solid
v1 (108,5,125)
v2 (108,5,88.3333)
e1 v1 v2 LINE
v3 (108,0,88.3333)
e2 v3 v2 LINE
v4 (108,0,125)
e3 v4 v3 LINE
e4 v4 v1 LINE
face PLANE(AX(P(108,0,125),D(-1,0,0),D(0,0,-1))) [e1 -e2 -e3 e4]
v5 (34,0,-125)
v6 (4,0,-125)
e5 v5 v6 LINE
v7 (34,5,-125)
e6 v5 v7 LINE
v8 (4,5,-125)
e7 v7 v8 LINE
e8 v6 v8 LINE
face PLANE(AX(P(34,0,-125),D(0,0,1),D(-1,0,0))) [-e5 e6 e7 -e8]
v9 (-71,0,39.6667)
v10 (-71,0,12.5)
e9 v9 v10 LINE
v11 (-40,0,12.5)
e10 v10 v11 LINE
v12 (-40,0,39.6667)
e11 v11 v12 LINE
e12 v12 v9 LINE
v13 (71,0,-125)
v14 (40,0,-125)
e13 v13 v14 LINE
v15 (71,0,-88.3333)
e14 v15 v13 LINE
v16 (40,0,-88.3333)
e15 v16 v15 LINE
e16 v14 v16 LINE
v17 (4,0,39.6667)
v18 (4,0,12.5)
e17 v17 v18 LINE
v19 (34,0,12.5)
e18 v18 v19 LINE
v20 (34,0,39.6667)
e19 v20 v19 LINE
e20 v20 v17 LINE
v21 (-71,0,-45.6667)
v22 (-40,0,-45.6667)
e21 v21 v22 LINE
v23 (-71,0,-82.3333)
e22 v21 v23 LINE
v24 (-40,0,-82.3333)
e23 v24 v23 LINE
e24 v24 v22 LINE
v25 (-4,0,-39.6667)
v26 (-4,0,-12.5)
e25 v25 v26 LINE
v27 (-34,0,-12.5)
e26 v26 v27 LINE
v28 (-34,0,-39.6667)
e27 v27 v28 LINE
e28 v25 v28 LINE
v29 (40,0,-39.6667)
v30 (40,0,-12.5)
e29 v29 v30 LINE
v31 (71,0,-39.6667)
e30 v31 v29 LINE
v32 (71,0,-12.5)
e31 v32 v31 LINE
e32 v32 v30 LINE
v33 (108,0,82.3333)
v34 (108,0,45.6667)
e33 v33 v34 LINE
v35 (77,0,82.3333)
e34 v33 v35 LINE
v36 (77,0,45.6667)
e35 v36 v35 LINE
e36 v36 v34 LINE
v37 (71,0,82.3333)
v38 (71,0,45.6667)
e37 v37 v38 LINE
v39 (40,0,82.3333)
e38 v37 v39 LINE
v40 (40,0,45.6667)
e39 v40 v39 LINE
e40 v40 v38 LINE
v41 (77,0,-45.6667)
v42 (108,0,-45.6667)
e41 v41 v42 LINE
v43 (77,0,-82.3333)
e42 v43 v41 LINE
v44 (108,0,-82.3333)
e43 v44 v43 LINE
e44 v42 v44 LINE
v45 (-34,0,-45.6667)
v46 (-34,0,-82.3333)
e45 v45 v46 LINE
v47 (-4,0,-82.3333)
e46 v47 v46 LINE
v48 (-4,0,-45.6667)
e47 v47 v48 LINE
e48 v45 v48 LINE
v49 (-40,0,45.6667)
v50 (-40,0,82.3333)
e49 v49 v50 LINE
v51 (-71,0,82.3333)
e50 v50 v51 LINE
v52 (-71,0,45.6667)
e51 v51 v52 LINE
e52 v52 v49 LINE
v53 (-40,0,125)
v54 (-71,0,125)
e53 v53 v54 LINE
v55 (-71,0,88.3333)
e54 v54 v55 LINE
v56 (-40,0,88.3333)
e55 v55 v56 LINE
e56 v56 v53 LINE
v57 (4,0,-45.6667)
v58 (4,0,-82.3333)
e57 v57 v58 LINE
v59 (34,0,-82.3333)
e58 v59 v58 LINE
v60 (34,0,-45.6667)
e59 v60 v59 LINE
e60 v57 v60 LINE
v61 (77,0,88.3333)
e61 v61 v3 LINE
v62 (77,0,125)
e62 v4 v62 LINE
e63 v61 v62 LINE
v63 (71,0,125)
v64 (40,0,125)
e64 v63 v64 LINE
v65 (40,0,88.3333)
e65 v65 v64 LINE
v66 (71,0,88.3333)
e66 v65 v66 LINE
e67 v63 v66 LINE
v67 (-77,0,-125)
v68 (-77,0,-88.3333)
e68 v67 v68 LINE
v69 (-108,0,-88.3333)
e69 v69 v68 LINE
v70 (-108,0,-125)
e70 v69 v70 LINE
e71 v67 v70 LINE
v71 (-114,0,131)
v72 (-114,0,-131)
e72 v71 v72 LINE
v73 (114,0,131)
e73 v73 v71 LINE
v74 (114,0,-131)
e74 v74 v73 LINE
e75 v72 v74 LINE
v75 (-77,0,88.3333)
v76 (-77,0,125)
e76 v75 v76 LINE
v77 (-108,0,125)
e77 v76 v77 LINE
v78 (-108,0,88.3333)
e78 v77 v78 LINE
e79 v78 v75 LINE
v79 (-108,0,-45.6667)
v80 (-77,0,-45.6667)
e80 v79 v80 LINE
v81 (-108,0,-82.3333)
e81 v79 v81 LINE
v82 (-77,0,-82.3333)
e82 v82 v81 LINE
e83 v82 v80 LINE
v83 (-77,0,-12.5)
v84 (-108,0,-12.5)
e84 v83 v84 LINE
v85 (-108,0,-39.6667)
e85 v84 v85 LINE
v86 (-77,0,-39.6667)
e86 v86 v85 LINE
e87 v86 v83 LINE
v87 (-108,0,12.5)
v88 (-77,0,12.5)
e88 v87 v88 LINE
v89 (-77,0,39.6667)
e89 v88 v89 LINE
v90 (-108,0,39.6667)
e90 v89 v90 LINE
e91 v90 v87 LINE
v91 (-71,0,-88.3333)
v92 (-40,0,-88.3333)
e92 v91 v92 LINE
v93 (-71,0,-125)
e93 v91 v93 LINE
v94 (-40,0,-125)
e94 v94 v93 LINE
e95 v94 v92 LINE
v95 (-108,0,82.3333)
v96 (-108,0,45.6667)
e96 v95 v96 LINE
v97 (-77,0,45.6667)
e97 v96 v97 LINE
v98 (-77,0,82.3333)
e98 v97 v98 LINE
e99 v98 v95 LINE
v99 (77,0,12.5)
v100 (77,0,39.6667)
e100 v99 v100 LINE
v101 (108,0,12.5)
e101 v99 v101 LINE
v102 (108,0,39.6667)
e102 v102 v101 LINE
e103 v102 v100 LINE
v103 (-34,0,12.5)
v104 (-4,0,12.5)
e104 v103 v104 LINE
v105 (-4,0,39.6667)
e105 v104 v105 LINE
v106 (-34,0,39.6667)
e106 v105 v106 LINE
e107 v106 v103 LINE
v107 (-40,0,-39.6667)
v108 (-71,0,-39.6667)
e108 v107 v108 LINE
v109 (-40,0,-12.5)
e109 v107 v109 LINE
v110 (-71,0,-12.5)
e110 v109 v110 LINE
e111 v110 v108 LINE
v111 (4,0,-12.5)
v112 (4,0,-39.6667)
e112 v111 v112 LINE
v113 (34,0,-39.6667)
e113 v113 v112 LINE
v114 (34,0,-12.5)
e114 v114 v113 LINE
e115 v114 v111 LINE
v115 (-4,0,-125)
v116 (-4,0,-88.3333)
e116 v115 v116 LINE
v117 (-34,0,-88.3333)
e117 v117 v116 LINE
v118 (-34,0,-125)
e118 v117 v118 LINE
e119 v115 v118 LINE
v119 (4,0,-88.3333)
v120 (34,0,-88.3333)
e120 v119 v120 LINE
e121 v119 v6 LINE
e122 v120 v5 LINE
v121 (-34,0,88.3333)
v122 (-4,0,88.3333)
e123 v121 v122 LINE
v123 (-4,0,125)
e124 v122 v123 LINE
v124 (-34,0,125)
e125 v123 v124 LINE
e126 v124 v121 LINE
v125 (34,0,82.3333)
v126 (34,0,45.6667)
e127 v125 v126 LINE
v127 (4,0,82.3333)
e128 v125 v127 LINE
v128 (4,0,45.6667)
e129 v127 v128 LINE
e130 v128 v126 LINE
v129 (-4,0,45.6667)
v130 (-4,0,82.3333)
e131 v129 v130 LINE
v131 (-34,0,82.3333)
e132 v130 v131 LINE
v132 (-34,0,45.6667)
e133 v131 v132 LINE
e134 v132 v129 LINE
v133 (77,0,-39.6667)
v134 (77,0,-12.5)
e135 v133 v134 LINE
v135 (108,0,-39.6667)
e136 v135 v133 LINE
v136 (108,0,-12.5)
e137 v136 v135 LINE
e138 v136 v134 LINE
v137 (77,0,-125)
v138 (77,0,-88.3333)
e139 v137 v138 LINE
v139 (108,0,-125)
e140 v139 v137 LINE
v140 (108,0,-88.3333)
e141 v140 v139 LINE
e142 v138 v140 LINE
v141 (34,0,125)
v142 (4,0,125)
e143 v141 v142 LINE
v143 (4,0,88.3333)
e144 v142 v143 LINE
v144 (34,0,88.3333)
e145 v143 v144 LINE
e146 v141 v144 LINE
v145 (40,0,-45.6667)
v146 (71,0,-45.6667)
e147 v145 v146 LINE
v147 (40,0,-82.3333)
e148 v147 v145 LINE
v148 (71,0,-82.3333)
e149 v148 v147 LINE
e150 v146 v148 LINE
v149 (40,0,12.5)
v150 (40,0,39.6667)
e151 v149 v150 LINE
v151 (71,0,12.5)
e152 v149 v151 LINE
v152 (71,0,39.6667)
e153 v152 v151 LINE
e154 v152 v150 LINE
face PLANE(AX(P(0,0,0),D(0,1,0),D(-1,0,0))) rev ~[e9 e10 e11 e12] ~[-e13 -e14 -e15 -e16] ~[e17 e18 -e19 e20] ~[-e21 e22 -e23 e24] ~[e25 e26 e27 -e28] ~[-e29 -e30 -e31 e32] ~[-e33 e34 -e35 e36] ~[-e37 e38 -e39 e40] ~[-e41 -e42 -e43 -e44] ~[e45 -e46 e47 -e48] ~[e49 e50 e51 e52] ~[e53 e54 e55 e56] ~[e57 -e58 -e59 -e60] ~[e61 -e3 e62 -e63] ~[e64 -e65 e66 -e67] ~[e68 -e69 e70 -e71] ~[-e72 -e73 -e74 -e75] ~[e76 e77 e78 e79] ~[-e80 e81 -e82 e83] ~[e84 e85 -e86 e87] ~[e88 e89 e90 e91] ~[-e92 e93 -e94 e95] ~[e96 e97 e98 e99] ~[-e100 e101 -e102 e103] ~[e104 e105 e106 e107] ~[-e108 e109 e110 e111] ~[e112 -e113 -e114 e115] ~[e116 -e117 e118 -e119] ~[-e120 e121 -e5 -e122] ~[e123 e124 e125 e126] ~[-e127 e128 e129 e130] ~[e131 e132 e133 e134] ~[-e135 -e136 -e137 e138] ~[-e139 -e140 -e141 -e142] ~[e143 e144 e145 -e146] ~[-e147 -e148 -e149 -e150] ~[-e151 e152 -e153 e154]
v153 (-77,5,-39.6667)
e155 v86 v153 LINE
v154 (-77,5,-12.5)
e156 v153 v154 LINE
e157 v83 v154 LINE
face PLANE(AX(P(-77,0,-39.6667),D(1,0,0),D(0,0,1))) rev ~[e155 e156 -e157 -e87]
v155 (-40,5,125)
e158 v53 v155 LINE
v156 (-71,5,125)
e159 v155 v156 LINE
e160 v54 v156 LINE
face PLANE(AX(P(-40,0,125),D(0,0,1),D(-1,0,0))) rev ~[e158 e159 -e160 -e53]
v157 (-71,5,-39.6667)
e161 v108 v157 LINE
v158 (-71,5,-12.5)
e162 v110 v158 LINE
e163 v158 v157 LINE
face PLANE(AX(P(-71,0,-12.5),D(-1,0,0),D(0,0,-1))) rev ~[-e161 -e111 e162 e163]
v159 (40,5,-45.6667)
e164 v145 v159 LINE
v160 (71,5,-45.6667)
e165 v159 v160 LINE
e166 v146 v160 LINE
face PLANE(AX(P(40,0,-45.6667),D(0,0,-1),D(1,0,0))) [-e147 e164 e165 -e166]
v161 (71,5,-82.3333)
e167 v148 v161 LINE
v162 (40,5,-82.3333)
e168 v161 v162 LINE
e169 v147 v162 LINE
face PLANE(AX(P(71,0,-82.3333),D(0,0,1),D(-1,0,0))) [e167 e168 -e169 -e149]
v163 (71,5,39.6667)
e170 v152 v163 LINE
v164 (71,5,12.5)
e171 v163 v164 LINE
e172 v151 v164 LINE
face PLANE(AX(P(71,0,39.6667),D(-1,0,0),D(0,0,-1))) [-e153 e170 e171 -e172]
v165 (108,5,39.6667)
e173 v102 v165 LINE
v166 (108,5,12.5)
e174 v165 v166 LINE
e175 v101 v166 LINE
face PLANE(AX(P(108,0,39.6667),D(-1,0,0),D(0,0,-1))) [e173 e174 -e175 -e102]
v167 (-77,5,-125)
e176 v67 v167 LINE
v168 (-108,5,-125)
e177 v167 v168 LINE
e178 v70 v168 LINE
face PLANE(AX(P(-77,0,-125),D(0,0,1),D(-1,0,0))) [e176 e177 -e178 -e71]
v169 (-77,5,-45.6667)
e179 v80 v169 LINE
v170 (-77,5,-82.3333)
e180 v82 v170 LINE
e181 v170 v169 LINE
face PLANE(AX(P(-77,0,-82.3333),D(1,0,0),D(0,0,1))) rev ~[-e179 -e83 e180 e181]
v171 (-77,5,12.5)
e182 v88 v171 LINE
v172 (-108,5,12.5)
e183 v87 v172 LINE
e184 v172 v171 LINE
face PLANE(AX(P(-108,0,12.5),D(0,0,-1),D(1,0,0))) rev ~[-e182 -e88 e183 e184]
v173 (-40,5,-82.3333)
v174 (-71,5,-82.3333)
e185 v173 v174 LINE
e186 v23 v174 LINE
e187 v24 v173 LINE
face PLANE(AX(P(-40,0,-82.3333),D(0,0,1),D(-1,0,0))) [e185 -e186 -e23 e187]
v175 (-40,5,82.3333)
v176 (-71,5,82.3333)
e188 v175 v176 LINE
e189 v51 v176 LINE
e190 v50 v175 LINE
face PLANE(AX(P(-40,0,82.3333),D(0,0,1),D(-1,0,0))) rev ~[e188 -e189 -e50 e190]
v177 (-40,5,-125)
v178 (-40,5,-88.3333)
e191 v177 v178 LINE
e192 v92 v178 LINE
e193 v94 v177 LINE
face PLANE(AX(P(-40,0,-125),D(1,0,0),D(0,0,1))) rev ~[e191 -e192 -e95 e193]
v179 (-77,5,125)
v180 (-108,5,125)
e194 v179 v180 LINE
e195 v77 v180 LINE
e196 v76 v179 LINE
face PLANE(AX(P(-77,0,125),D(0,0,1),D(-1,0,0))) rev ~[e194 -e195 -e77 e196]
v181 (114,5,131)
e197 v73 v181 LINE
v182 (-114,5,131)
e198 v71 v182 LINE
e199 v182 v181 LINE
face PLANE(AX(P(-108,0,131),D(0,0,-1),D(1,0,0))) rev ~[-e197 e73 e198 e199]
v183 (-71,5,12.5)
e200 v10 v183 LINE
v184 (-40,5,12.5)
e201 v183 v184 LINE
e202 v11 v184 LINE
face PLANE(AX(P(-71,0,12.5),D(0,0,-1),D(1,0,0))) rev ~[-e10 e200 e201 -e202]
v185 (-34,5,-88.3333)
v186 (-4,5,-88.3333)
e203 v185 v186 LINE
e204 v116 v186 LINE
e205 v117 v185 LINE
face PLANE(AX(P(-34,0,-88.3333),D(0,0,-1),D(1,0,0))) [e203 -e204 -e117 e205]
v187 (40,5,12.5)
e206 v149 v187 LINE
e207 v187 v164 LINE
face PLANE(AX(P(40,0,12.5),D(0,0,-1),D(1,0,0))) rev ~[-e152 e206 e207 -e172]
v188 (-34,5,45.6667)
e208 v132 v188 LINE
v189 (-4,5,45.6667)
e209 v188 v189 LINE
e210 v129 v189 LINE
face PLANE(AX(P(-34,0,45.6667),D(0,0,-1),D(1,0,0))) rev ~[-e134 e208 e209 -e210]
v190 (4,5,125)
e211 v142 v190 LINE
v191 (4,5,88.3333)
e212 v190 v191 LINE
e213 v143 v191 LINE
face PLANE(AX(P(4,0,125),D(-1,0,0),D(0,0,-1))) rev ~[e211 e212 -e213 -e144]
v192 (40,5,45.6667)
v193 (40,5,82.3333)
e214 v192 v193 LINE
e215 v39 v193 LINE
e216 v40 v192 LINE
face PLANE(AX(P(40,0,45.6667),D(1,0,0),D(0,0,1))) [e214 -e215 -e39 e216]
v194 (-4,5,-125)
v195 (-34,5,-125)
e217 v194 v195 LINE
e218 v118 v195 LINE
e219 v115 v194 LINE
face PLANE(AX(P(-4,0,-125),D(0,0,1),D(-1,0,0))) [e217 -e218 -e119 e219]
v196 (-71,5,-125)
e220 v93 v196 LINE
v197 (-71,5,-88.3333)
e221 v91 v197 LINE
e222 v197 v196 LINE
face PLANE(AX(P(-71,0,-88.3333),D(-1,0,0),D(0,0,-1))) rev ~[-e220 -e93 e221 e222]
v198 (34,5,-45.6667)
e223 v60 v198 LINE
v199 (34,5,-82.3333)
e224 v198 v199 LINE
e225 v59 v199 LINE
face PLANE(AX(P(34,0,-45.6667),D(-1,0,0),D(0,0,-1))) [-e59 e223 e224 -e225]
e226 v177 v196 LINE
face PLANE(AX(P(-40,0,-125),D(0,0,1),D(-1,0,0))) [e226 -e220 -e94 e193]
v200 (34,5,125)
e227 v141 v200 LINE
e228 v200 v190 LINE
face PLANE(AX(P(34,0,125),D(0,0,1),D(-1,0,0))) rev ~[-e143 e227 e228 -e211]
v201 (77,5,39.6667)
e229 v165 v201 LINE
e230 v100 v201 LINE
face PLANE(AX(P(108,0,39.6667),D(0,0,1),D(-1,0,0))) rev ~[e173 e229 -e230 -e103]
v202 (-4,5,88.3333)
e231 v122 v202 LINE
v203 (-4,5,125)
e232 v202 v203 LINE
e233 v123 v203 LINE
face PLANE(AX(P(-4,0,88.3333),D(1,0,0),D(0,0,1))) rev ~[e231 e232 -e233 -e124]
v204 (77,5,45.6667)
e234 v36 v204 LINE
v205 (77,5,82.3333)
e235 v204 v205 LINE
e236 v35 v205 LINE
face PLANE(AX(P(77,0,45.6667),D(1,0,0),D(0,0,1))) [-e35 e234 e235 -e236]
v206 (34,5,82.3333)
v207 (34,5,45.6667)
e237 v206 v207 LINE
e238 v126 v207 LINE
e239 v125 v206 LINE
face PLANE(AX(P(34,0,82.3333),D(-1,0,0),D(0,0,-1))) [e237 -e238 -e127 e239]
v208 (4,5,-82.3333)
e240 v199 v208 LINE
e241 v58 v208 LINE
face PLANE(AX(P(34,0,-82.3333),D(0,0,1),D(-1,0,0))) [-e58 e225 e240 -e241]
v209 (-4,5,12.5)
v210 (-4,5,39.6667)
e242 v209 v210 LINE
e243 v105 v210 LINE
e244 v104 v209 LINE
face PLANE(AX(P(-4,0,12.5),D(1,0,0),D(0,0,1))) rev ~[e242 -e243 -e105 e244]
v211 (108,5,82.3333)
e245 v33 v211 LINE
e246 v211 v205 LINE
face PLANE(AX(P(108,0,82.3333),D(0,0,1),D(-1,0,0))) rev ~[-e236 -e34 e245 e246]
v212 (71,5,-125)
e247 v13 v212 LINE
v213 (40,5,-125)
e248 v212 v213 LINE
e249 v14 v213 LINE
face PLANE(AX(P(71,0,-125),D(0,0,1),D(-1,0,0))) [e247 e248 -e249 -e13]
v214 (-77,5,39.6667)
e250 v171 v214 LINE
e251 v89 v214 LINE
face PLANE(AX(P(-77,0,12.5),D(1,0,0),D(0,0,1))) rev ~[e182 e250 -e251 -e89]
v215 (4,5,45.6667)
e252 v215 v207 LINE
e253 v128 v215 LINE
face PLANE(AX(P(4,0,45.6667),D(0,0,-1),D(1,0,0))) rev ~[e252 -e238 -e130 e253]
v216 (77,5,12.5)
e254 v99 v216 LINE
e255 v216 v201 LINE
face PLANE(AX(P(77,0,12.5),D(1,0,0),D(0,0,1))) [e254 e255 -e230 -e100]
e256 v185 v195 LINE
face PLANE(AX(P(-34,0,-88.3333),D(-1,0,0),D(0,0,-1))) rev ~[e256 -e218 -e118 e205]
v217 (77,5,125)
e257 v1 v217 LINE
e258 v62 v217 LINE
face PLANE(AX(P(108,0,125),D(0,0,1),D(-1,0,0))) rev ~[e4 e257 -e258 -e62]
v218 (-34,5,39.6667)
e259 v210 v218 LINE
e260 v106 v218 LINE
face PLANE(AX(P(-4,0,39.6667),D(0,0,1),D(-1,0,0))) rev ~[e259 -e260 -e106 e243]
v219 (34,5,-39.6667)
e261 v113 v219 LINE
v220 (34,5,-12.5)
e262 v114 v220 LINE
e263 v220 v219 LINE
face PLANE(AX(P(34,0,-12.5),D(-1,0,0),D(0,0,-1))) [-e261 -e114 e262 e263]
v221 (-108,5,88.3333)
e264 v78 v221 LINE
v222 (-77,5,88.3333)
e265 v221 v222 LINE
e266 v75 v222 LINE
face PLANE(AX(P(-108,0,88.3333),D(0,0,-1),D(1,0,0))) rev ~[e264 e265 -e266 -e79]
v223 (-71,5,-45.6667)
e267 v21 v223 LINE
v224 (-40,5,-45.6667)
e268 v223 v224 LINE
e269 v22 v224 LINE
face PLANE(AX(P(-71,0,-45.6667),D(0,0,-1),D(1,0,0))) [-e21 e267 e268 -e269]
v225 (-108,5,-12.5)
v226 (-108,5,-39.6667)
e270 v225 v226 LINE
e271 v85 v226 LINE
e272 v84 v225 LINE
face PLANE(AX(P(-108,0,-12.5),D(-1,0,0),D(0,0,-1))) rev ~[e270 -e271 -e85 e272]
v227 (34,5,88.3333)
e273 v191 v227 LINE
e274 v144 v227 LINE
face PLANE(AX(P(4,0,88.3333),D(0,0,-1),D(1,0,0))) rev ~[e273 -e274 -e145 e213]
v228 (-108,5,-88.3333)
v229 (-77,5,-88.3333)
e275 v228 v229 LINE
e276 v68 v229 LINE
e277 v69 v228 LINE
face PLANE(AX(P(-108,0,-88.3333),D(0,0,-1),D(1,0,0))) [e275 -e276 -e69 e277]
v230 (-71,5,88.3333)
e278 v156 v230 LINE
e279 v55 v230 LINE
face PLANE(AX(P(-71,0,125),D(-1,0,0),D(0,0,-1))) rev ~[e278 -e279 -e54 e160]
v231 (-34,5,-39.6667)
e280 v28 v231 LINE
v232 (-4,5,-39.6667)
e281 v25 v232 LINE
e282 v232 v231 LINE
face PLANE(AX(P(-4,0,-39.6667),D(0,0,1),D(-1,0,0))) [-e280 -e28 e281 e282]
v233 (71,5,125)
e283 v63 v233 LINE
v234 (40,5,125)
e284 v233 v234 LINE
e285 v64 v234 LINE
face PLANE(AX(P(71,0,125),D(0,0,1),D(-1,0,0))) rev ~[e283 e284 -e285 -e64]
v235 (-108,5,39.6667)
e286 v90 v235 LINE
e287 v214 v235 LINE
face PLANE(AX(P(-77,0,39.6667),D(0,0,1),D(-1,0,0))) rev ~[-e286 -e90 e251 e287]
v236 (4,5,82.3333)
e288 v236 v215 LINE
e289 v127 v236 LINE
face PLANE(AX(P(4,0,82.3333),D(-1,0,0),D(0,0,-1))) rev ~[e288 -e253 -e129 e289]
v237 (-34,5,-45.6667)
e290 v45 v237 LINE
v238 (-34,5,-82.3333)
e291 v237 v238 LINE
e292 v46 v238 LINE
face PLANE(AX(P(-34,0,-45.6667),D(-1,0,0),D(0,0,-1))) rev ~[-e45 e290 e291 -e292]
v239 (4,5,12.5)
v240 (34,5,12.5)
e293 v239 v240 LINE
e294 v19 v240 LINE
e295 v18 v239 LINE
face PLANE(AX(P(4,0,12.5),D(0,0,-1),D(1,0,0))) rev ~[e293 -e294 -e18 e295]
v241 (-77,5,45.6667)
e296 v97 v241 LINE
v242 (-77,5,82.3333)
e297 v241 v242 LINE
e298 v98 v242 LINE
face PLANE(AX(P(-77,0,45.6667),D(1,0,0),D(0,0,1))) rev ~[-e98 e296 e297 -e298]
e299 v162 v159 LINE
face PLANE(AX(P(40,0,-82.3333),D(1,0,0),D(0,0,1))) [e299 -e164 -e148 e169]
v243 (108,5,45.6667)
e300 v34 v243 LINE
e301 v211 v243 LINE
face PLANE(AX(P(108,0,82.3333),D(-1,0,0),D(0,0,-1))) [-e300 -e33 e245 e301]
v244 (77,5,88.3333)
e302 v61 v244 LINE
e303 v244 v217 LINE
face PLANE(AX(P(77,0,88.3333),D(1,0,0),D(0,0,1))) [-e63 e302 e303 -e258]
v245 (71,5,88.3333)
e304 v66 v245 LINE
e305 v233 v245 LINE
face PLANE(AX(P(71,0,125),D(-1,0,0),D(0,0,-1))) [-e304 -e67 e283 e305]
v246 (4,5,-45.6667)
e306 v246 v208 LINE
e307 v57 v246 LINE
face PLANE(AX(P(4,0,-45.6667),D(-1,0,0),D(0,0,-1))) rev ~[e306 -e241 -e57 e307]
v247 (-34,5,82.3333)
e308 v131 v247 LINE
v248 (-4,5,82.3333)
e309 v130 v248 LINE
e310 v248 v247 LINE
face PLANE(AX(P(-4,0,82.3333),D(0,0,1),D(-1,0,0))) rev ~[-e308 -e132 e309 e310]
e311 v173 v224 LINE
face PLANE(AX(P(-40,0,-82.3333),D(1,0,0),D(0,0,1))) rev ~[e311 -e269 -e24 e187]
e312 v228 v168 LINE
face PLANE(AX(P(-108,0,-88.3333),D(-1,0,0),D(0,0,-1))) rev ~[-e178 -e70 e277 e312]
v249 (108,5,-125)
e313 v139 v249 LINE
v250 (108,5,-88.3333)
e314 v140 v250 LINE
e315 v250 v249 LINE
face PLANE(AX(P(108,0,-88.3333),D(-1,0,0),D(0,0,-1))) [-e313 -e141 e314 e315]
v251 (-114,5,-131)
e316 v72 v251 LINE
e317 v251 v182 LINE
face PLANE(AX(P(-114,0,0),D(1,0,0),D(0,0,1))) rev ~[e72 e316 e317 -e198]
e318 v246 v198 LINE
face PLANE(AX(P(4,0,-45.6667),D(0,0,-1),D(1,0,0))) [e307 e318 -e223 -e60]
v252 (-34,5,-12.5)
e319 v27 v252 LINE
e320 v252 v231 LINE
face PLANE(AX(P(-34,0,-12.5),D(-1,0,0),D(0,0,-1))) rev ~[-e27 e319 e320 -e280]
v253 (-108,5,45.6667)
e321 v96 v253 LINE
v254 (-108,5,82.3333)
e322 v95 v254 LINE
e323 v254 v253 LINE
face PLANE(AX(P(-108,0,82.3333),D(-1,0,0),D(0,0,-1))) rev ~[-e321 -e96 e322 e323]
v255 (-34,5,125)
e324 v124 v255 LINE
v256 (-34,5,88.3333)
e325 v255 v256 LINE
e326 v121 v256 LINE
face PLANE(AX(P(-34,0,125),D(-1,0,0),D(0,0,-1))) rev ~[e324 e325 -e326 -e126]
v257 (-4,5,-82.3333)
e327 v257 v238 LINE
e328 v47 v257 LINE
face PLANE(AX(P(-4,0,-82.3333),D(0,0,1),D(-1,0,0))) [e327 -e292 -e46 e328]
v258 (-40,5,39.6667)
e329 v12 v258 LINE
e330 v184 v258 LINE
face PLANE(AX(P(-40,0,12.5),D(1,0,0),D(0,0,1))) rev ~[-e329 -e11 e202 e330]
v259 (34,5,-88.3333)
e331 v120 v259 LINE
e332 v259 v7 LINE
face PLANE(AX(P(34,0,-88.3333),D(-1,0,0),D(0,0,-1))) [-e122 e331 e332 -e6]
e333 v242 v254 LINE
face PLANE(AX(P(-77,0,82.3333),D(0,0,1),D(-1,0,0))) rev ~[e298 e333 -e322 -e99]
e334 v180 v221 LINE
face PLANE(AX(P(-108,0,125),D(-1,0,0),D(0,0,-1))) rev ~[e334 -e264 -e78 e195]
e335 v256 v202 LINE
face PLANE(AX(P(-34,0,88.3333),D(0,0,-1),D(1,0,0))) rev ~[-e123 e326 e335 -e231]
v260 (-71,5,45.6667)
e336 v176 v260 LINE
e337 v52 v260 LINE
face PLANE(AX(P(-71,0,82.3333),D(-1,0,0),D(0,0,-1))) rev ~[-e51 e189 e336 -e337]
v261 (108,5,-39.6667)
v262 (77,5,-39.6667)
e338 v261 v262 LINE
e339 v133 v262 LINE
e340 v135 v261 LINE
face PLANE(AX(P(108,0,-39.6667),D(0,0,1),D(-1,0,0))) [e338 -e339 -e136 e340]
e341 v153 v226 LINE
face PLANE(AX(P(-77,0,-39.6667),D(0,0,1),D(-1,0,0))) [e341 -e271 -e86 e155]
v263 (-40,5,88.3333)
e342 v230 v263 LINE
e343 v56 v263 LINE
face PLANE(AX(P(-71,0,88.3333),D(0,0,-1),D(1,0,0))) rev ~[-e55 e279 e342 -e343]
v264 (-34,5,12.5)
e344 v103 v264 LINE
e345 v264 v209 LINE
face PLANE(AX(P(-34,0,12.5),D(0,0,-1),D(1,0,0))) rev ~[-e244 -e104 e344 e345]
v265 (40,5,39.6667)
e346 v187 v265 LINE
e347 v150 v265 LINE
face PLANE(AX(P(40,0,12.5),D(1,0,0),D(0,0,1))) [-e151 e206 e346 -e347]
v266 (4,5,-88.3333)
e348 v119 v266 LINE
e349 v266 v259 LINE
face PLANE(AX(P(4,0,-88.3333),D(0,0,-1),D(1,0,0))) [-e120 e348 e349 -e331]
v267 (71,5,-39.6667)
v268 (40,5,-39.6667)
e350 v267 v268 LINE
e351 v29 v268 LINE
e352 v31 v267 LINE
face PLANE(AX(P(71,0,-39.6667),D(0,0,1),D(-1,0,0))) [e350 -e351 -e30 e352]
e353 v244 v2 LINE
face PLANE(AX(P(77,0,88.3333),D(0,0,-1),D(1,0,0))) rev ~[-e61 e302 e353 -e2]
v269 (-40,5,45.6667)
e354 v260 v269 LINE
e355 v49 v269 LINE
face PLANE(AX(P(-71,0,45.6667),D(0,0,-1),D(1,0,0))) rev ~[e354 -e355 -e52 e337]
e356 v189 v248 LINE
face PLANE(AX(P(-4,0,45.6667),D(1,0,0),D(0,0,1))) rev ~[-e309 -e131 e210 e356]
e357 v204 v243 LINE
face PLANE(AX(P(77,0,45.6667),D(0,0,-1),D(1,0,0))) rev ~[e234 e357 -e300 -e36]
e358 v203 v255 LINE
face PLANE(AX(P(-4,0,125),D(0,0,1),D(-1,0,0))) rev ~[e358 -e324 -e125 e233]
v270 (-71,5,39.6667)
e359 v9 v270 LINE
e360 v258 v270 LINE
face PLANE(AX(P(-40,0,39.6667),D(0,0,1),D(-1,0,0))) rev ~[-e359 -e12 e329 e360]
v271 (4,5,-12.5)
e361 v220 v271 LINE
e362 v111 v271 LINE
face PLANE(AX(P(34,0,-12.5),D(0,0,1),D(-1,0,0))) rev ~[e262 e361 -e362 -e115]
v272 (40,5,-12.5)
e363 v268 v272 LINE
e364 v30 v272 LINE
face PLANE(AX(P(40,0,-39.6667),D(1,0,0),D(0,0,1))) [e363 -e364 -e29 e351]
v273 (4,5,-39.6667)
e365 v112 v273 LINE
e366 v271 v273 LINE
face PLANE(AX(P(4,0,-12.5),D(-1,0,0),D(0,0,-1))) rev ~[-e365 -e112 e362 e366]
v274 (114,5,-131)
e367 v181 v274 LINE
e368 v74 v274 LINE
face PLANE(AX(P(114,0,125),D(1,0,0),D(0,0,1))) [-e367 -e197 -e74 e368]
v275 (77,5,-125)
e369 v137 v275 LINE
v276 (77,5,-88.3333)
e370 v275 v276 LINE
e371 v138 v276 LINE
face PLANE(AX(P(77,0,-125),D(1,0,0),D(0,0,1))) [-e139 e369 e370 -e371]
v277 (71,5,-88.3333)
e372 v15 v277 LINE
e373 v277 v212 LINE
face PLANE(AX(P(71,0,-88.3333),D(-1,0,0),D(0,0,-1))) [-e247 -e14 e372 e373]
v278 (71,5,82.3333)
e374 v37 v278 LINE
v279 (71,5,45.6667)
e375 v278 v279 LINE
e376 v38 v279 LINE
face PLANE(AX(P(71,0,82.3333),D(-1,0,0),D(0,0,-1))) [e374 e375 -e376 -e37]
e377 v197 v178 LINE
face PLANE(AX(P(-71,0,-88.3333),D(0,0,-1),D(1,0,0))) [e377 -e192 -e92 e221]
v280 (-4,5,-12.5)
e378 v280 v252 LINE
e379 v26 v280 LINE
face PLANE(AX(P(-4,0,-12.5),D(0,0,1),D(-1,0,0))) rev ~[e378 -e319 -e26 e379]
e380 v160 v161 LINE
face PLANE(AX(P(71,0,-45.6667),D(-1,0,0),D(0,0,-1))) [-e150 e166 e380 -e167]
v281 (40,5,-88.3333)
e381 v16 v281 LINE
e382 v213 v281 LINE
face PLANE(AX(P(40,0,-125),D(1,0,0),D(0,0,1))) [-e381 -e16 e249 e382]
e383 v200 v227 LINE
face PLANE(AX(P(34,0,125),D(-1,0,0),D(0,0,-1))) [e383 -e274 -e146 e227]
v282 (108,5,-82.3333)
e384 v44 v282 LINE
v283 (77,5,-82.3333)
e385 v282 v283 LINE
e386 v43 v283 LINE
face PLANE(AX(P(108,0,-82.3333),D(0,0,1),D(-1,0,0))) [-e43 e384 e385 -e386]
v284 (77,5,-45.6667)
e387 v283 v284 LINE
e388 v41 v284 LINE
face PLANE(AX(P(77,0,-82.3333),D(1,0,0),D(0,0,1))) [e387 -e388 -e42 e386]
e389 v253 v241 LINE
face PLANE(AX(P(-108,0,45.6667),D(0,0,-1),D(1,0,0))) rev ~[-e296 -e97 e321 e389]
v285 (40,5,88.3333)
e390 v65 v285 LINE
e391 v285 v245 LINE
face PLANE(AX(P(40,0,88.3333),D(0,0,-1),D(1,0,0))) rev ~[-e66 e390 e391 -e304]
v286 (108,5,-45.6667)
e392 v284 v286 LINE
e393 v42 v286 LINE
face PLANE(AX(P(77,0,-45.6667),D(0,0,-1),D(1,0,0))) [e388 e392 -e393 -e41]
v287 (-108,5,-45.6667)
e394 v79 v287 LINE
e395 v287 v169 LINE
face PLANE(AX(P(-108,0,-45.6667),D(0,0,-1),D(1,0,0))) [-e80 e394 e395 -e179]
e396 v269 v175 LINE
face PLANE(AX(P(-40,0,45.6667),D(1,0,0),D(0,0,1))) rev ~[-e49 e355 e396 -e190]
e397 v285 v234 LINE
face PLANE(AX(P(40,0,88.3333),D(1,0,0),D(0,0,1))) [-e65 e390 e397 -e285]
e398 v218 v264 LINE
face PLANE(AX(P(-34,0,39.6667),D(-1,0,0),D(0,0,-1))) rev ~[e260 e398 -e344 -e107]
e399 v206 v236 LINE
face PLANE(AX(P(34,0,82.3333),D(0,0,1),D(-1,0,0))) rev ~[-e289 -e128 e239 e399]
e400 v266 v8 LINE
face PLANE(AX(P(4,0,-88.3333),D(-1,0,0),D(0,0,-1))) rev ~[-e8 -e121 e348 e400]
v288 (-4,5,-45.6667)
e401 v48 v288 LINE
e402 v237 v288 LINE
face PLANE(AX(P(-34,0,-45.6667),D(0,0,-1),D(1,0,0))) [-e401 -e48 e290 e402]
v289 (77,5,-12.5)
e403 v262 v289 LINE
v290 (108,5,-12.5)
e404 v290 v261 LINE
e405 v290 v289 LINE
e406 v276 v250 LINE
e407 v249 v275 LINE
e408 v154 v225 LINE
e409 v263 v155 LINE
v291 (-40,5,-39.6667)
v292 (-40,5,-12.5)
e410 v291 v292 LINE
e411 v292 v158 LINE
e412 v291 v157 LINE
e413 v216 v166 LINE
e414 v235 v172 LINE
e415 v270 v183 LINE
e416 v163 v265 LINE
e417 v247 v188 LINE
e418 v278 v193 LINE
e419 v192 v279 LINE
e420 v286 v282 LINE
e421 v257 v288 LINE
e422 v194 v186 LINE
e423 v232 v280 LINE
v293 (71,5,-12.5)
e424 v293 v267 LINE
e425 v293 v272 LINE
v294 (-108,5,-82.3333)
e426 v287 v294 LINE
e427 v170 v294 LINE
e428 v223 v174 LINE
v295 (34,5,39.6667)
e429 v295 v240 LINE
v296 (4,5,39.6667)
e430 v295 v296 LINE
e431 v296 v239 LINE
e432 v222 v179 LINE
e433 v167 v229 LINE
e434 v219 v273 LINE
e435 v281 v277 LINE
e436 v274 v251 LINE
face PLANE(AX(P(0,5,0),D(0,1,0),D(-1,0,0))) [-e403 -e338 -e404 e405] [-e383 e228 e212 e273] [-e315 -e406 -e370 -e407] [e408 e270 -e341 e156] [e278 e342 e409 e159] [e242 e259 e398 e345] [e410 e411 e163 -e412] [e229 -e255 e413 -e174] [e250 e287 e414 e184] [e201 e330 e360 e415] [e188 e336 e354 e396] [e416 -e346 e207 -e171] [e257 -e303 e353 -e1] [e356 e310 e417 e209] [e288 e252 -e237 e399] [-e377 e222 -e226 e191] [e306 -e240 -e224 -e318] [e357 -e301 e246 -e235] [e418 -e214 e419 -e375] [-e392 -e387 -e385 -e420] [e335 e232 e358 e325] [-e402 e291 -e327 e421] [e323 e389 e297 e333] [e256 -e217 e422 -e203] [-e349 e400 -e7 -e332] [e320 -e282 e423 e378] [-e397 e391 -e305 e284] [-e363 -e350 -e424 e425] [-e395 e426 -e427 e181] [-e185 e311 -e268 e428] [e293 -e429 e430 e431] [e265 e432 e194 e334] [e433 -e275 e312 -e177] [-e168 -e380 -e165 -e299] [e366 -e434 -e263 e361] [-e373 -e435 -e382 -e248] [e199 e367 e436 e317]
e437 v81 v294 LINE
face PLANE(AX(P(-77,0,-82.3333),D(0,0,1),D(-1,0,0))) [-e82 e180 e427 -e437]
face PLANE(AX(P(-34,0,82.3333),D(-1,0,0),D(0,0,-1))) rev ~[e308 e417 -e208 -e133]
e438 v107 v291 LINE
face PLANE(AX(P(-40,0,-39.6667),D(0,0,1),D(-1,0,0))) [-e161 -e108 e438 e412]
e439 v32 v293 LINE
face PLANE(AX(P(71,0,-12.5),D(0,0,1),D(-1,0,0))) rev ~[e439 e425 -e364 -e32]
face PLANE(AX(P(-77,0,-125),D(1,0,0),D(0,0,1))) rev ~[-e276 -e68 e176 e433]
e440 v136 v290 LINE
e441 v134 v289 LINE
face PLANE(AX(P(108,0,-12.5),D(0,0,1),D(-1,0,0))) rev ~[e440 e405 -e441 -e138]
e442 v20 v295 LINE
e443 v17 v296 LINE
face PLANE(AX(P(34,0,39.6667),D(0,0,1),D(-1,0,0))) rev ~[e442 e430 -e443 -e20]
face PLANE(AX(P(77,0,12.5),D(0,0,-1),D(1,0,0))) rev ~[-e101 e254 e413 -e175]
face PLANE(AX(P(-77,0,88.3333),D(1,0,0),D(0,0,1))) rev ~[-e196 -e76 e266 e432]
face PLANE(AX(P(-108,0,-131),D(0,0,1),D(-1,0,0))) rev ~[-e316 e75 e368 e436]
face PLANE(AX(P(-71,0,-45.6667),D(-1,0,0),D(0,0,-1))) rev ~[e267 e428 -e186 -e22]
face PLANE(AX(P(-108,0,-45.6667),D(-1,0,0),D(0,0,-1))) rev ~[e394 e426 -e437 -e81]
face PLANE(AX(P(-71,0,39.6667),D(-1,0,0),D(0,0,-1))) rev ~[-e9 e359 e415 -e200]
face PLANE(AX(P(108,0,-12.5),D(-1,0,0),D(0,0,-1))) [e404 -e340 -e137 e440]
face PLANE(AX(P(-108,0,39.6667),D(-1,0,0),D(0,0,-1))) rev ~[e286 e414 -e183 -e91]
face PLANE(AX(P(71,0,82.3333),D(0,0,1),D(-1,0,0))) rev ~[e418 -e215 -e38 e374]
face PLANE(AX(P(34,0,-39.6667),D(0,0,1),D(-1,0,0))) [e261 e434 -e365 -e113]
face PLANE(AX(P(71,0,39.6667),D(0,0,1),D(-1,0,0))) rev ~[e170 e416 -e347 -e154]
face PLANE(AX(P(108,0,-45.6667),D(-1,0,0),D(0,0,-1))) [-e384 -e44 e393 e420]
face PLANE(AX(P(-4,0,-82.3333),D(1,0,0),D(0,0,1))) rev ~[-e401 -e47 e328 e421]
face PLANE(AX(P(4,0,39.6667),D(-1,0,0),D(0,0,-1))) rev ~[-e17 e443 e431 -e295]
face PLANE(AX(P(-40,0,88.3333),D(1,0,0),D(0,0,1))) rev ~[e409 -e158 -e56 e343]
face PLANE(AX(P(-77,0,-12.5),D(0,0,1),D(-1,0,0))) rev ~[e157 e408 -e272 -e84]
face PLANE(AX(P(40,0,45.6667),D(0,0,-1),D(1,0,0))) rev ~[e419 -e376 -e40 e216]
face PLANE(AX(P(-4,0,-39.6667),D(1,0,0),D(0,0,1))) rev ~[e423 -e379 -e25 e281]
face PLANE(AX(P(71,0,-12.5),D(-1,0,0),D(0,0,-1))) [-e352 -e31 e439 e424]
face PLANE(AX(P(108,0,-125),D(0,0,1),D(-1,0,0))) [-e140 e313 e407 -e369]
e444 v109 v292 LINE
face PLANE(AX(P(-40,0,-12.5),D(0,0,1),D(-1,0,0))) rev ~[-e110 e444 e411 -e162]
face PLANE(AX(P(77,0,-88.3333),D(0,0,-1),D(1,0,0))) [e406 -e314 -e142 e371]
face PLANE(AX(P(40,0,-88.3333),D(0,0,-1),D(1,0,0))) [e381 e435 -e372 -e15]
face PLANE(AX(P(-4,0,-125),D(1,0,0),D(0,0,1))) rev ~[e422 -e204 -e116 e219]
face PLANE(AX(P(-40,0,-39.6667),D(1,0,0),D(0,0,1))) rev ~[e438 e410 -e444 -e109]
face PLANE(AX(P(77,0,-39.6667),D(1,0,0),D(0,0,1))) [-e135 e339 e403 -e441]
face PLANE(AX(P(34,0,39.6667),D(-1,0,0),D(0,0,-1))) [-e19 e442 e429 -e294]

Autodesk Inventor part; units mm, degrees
ref_plane "YZ Plane" through (0, 0, 0) normal (1, 0, 0) x (0, 1, 0)
ref_plane "XZ Plane" through (0, 0, 0) normal (0, 1, 0) x (-1, 0, 0)
ref_plane "XY Plane" through (0, 0, 0) normal (0, 0, 1) x (1, 0, 0)
sketch "Sketch1" plane through (0, 0, 0) normal (0, 1, 0) x (-1, 0, 0)
  line L0 (108, 131) -> (-108, 131)
  line L1 (-108, 131) -> (-108, 125)
  line L2 (-108, 125) -> (108, 125)
  line L3 (108, 125) -> (108, 131)
  line L4 (0, 5131.2687) -> (0, -192.5797)
  line L5 (108, 4620.3571) -> (108, -4424.6448)
  line L6 (-108, 163.2413) -> (-108, -192.5797)
  line L7 (-159.6212, -125) -> (141.3387, -125)
  line L8 (141.3387, 125) -> (-159.6212, 125)
  line L9 (-108, 88.3333) -> (-108, 82.3333)
  line L10 (108, 88.3333) -> (-108, 88.3333)
  line L11 (-108, 82.3333) -> (108, 82.3333)
  line L12 (108, 82.3333) -> (108, 88.3333)
  line L13 (-108, 45.6667) -> (-108, 39.6667)
  line L14 (108, 45.6667) -> (-108, 45.6667)
  line L15 (-108, 39.6667) -> (108, 39.6667)
  line L16 (108, 39.6667) -> (108, 45.6667)
  line L17 (-108, -12.5) -> (108, -12.5)
  line L18 (108, -12.5) -> (108, 12.5)
  line L19 (108, 12.5) -> (-108, 12.5)
  line L20 (-108, 12.5) -> (-108, -12.5)
  line L21 (-108, -12.5) -> (108, 12.5) construction
  line L22 (108, -12.5) -> (-108, 12.5) construction
  line L23 (-4, -131) -> (4, -131)
  line L24 (4, -131) -> (4, 131)
  line L25 (4, 131) -> (-4, 131)
  line L26 (-4, 131) -> (-4, -131)
  line L27 (-4, -131) -> (4, 131) construction
  line L28 (4, -131) -> (-4, 131) construction
  line L29 (3750.9383, 0) -> (-5642.9813, 0)
  line L30 (108, -131) -> (-108, -131)
  line L31 (-108, -131) -> (-108, -125)
  line L32 (-108, -125) -> (108, -125)
  line L33 (108, -125) -> (108, -131)
  line L34 (-108, -88.3333) -> (-108, -82.3333)
  line L35 (108, -88.3333) -> (-108, -88.3333)
  line L36 (-108, -82.3333) -> (108, -82.3333)
  line L37 (108, -82.3333) -> (108, -88.3333)
  line L38 (-108, -45.6667) -> (-108, -39.6667)
  line L39 (108, -45.6667) -> (-108, -45.6667)
  line L40 (-108, -39.6667) -> (108, -39.6667)
  line L41 (108, -39.6667) -> (108, -45.6667)
  line L42 (114, 131) -> (108, 131)
  line L43 (108, 131) -> (108, -131)
  line L44 (108, -131) -> (114, -131)
  line L45 (114, -131) -> (114, 131)
  line L46 (71, 131) -> (71, -131)
  line L47 (77, -131) -> (77, 131)
  line L48 (77, 131) -> (71, 131)
  line L49 (71, -131) -> (77, -131)
  line L50 (34, 131) -> (34, -131)
  line L51 (40, -131) -> (40, 131)
  line L52 (40, 131) -> (34, 131)
  line L53 (34, -131) -> (40, -131)
  line L54 (-114, 131) -> (-108, 131)
  line L55 (-108, 131) -> (-108, -131)
  line L56 (-108, -131) -> (-114, -131)
  line L57 (-114, -131) -> (-114, 131)
  line L58 (-71, 131) -> (-71, -131)
  line L59 (-77, -131) -> (-77, 131)
  line L60 (-77, 131) -> (-71, 131)
  line L61 (-71, -131) -> (-77, -131)
  line L62 (-34, 131) -> (-34, -131)
  line L63 (-40, -131) -> (-40, 131)
  line L64 (-40, 131) -> (-34, 131)
  line L65 (-34, -131) -> (-40, -131)
  line L66 (-159.6212, -192.5797) -> (141.3387, -192.5797)
  line L67 (141.3387, -192.5797) -> (141.3387, 163.2413)
  line L68 (141.3387, 163.2413) -> (-159.6212, 163.2413)
  line L69 (-159.6212, 163.2413) -> (-159.6212, -192.5797)
  point P0 (0, 0)
  point P1 (-71, 131)
  dimension "d0" = 216
  dimension "d1" = 6
  dimension "d5" = 108
  dimension "d6" = 125
  dimension "d7" = 250
  dimension "d10" = 42.6667
  dimension "d15" = 25
  dimension "d16" = 8
  dimension "d19" = 79.3333
  dimension "d20" = 79.3333
  dimension "d21" = 6
  dimension "d24" = 37
  dimension "d29" = 68
  dimension "d30" = 68
  dimension "d32" = 37
  dimension "d33" = 42.6667
  dimension "d36" = 6
  dimension "d37" = 6
extrude "Extrusion1" add sketch "Sketch1" along normal blind 5 contours L3 L2 L47 L0 | L42 L45 L8 L3 | L47 L2 L46 L0 | L8 L45 L29 L5 | L46 L2 L51 L0 | L47 L10 L46 L2 | L5 L11 L47 L10 | L51 L2 L50 L0 | L47 L11 L46 L10 | L45 L7 L5 L29 | L4 L2 L26 L0 | L0 L24 L2 L4 | L50 L2 L24 L0 | L51 L10 L50 L2 | L46 L11 L51 L10 | L47 L14 L46 L11 | L5 L15 L47 L14 | L29 L47 L19 L5 | L5 L17 L47 L29 | L45 L44 L5 L7 | L26 L2 L62 L0 | L4 L10 L26 L2 | L2 L24 L10 L4 | L0 L59 L2 L1 | L1 L8 L57 L54 | L51 L11 L50 L10 | L47 L15 L46 L14 | L47 L17 L46 L29 | L29 L46 L19 L47 | L5 L30 L47 L7 | L62 L2 L63 L0 | L10 L24 L11 L4 | L4 L11 L26 L10 | L0 L58 L2 L59 | L6 L29 L57 L8 | L50 L11 L24 L10 | L51 L14 L50 L11 | L46 L15 L51 L14 | L47 L19 L46 L15 | L5 L39 L47 L40 | L47 L40 L46 L17 | L46 L17 L51 L29 | L29 L51 L19 L46 | L35 L47 L36 L5 | L47 L30 L46 L7 | L7 L46 L35 L47 | L63 L2 L58 L0 | L62 L10 L63 L2 | L26 L11 L62 L10 | L11 L24 L14 L4 | L4 L14 L26 L11 | L2 L58 L10 L59 | L10 L59 L11 L6 | L51 L15 L50 L14 | L47 L39 L46 L40 | L51 L17 L50 L29 | L29 L50 L19 L51 | L35 L46 L36 L47 | L46 L30 L51 L7 | L62 L11 L63 L10 | L14 L24 L15 L4 | L4 L15 L26 L14 | L10 L58 L11 L59 | L29 L6 L7 L57 | L50 L15 L24 L14 | L51 L19 L50 L15 | L47 L36 L46 L39 | L46 L39 L51 L40 | L51 L40 L50 L17 | L50 L17 L24 L29 | L29 L24 L19 L50 | L35 L51 L36 L46 | L51 L30 L50 L7 | L7 L50 L35 L51 | L63 L11 L58 L10 | L62 L14 L63 L11 | L26 L15 L62 L14 | L15 L24 L19 L4 | L4 L19 L26 L15 | L11 L58 L14 L59 | L14 L59 L15 L6 | L29 L59 L17 L6 | L6 L19 L59 L29 | L7 L6 L56 L57 | L23 L26 L7 L4 | L4 L7 L24 L23 | L51 L39 L50 L40 | L29 L4 L19 L24 | L24 L17 L4 L29 | L35 L50 L36 L51 | L50 L30 L24 L7 | L62 L15 L63 L14 | L4 L29 L26 L19 | L14 L58 L15 L59 | L59 L19 L58 L29 | L29 L58 L17 L59 | L7 L59 L30 L6 | L7 L26 L35 L4 | L4 L35 L24 L7 | L30 L62 L7 L26 | L51 L36 L50 L39 | L50 L39 L24 L40 | L24 L40 L4 L17 | L4 L17 L26 L29 | L35 L24 L36 L50 | L63 L15 L58 L14 | L62 L19 L63 L15 | L26 L29 L62 L19 | L15 L58 L19 L59 | L40 L59 L39 L6 | L17 L58 L40 L59 | L58 L19 L63 L29 | L29 L63 L17 L58 | L6 L36 L59 L35 | L59 L35 L58 L7 | L7 L58 L30 L59 | L35 L26 L36 L4 | L4 L36 L24 L35 | L30 L63 L7 L62 | L24 L39 L4 L40 | L4 L40 L26 L17 | L26 L17 L62 L29 | L62 L29 L63 L19 | L40 L58 L39 L59 | L29 L62 L17 L63 | L59 L36 L58 L35 | L7 L63 L30 L58 | L36 L26 L39 L4 | L4 L39 L24 L36 | L35 L62 L36 L26 | L7 L63 L35 L62 | L4 L39 L26 L40 | L39 L58 L36 L59 | L40 L63 L39 L58 | L17 L62 L40 L63 | L58 L36 L63 L35 | L35 L63 L36 L62 | L26 L39 L62 L40 | L40 L62 L39 L63 | L36 L63 L39 L62
equation "\"d0\" = 2 * d5"
equation "\"d7\" = 2 * d6"
equation "\"d10\" = 0.166667 * d7 + 0.166667 * d1"
equation "\"d20\" = d19"
equation "\"d21\" = d1"
equation "\"d24\" = 0.166667 * d0 + 0.166667 * d21"
equation "\"d30\" = d29"
properties part number "4 Tape Measures Holder V2"
